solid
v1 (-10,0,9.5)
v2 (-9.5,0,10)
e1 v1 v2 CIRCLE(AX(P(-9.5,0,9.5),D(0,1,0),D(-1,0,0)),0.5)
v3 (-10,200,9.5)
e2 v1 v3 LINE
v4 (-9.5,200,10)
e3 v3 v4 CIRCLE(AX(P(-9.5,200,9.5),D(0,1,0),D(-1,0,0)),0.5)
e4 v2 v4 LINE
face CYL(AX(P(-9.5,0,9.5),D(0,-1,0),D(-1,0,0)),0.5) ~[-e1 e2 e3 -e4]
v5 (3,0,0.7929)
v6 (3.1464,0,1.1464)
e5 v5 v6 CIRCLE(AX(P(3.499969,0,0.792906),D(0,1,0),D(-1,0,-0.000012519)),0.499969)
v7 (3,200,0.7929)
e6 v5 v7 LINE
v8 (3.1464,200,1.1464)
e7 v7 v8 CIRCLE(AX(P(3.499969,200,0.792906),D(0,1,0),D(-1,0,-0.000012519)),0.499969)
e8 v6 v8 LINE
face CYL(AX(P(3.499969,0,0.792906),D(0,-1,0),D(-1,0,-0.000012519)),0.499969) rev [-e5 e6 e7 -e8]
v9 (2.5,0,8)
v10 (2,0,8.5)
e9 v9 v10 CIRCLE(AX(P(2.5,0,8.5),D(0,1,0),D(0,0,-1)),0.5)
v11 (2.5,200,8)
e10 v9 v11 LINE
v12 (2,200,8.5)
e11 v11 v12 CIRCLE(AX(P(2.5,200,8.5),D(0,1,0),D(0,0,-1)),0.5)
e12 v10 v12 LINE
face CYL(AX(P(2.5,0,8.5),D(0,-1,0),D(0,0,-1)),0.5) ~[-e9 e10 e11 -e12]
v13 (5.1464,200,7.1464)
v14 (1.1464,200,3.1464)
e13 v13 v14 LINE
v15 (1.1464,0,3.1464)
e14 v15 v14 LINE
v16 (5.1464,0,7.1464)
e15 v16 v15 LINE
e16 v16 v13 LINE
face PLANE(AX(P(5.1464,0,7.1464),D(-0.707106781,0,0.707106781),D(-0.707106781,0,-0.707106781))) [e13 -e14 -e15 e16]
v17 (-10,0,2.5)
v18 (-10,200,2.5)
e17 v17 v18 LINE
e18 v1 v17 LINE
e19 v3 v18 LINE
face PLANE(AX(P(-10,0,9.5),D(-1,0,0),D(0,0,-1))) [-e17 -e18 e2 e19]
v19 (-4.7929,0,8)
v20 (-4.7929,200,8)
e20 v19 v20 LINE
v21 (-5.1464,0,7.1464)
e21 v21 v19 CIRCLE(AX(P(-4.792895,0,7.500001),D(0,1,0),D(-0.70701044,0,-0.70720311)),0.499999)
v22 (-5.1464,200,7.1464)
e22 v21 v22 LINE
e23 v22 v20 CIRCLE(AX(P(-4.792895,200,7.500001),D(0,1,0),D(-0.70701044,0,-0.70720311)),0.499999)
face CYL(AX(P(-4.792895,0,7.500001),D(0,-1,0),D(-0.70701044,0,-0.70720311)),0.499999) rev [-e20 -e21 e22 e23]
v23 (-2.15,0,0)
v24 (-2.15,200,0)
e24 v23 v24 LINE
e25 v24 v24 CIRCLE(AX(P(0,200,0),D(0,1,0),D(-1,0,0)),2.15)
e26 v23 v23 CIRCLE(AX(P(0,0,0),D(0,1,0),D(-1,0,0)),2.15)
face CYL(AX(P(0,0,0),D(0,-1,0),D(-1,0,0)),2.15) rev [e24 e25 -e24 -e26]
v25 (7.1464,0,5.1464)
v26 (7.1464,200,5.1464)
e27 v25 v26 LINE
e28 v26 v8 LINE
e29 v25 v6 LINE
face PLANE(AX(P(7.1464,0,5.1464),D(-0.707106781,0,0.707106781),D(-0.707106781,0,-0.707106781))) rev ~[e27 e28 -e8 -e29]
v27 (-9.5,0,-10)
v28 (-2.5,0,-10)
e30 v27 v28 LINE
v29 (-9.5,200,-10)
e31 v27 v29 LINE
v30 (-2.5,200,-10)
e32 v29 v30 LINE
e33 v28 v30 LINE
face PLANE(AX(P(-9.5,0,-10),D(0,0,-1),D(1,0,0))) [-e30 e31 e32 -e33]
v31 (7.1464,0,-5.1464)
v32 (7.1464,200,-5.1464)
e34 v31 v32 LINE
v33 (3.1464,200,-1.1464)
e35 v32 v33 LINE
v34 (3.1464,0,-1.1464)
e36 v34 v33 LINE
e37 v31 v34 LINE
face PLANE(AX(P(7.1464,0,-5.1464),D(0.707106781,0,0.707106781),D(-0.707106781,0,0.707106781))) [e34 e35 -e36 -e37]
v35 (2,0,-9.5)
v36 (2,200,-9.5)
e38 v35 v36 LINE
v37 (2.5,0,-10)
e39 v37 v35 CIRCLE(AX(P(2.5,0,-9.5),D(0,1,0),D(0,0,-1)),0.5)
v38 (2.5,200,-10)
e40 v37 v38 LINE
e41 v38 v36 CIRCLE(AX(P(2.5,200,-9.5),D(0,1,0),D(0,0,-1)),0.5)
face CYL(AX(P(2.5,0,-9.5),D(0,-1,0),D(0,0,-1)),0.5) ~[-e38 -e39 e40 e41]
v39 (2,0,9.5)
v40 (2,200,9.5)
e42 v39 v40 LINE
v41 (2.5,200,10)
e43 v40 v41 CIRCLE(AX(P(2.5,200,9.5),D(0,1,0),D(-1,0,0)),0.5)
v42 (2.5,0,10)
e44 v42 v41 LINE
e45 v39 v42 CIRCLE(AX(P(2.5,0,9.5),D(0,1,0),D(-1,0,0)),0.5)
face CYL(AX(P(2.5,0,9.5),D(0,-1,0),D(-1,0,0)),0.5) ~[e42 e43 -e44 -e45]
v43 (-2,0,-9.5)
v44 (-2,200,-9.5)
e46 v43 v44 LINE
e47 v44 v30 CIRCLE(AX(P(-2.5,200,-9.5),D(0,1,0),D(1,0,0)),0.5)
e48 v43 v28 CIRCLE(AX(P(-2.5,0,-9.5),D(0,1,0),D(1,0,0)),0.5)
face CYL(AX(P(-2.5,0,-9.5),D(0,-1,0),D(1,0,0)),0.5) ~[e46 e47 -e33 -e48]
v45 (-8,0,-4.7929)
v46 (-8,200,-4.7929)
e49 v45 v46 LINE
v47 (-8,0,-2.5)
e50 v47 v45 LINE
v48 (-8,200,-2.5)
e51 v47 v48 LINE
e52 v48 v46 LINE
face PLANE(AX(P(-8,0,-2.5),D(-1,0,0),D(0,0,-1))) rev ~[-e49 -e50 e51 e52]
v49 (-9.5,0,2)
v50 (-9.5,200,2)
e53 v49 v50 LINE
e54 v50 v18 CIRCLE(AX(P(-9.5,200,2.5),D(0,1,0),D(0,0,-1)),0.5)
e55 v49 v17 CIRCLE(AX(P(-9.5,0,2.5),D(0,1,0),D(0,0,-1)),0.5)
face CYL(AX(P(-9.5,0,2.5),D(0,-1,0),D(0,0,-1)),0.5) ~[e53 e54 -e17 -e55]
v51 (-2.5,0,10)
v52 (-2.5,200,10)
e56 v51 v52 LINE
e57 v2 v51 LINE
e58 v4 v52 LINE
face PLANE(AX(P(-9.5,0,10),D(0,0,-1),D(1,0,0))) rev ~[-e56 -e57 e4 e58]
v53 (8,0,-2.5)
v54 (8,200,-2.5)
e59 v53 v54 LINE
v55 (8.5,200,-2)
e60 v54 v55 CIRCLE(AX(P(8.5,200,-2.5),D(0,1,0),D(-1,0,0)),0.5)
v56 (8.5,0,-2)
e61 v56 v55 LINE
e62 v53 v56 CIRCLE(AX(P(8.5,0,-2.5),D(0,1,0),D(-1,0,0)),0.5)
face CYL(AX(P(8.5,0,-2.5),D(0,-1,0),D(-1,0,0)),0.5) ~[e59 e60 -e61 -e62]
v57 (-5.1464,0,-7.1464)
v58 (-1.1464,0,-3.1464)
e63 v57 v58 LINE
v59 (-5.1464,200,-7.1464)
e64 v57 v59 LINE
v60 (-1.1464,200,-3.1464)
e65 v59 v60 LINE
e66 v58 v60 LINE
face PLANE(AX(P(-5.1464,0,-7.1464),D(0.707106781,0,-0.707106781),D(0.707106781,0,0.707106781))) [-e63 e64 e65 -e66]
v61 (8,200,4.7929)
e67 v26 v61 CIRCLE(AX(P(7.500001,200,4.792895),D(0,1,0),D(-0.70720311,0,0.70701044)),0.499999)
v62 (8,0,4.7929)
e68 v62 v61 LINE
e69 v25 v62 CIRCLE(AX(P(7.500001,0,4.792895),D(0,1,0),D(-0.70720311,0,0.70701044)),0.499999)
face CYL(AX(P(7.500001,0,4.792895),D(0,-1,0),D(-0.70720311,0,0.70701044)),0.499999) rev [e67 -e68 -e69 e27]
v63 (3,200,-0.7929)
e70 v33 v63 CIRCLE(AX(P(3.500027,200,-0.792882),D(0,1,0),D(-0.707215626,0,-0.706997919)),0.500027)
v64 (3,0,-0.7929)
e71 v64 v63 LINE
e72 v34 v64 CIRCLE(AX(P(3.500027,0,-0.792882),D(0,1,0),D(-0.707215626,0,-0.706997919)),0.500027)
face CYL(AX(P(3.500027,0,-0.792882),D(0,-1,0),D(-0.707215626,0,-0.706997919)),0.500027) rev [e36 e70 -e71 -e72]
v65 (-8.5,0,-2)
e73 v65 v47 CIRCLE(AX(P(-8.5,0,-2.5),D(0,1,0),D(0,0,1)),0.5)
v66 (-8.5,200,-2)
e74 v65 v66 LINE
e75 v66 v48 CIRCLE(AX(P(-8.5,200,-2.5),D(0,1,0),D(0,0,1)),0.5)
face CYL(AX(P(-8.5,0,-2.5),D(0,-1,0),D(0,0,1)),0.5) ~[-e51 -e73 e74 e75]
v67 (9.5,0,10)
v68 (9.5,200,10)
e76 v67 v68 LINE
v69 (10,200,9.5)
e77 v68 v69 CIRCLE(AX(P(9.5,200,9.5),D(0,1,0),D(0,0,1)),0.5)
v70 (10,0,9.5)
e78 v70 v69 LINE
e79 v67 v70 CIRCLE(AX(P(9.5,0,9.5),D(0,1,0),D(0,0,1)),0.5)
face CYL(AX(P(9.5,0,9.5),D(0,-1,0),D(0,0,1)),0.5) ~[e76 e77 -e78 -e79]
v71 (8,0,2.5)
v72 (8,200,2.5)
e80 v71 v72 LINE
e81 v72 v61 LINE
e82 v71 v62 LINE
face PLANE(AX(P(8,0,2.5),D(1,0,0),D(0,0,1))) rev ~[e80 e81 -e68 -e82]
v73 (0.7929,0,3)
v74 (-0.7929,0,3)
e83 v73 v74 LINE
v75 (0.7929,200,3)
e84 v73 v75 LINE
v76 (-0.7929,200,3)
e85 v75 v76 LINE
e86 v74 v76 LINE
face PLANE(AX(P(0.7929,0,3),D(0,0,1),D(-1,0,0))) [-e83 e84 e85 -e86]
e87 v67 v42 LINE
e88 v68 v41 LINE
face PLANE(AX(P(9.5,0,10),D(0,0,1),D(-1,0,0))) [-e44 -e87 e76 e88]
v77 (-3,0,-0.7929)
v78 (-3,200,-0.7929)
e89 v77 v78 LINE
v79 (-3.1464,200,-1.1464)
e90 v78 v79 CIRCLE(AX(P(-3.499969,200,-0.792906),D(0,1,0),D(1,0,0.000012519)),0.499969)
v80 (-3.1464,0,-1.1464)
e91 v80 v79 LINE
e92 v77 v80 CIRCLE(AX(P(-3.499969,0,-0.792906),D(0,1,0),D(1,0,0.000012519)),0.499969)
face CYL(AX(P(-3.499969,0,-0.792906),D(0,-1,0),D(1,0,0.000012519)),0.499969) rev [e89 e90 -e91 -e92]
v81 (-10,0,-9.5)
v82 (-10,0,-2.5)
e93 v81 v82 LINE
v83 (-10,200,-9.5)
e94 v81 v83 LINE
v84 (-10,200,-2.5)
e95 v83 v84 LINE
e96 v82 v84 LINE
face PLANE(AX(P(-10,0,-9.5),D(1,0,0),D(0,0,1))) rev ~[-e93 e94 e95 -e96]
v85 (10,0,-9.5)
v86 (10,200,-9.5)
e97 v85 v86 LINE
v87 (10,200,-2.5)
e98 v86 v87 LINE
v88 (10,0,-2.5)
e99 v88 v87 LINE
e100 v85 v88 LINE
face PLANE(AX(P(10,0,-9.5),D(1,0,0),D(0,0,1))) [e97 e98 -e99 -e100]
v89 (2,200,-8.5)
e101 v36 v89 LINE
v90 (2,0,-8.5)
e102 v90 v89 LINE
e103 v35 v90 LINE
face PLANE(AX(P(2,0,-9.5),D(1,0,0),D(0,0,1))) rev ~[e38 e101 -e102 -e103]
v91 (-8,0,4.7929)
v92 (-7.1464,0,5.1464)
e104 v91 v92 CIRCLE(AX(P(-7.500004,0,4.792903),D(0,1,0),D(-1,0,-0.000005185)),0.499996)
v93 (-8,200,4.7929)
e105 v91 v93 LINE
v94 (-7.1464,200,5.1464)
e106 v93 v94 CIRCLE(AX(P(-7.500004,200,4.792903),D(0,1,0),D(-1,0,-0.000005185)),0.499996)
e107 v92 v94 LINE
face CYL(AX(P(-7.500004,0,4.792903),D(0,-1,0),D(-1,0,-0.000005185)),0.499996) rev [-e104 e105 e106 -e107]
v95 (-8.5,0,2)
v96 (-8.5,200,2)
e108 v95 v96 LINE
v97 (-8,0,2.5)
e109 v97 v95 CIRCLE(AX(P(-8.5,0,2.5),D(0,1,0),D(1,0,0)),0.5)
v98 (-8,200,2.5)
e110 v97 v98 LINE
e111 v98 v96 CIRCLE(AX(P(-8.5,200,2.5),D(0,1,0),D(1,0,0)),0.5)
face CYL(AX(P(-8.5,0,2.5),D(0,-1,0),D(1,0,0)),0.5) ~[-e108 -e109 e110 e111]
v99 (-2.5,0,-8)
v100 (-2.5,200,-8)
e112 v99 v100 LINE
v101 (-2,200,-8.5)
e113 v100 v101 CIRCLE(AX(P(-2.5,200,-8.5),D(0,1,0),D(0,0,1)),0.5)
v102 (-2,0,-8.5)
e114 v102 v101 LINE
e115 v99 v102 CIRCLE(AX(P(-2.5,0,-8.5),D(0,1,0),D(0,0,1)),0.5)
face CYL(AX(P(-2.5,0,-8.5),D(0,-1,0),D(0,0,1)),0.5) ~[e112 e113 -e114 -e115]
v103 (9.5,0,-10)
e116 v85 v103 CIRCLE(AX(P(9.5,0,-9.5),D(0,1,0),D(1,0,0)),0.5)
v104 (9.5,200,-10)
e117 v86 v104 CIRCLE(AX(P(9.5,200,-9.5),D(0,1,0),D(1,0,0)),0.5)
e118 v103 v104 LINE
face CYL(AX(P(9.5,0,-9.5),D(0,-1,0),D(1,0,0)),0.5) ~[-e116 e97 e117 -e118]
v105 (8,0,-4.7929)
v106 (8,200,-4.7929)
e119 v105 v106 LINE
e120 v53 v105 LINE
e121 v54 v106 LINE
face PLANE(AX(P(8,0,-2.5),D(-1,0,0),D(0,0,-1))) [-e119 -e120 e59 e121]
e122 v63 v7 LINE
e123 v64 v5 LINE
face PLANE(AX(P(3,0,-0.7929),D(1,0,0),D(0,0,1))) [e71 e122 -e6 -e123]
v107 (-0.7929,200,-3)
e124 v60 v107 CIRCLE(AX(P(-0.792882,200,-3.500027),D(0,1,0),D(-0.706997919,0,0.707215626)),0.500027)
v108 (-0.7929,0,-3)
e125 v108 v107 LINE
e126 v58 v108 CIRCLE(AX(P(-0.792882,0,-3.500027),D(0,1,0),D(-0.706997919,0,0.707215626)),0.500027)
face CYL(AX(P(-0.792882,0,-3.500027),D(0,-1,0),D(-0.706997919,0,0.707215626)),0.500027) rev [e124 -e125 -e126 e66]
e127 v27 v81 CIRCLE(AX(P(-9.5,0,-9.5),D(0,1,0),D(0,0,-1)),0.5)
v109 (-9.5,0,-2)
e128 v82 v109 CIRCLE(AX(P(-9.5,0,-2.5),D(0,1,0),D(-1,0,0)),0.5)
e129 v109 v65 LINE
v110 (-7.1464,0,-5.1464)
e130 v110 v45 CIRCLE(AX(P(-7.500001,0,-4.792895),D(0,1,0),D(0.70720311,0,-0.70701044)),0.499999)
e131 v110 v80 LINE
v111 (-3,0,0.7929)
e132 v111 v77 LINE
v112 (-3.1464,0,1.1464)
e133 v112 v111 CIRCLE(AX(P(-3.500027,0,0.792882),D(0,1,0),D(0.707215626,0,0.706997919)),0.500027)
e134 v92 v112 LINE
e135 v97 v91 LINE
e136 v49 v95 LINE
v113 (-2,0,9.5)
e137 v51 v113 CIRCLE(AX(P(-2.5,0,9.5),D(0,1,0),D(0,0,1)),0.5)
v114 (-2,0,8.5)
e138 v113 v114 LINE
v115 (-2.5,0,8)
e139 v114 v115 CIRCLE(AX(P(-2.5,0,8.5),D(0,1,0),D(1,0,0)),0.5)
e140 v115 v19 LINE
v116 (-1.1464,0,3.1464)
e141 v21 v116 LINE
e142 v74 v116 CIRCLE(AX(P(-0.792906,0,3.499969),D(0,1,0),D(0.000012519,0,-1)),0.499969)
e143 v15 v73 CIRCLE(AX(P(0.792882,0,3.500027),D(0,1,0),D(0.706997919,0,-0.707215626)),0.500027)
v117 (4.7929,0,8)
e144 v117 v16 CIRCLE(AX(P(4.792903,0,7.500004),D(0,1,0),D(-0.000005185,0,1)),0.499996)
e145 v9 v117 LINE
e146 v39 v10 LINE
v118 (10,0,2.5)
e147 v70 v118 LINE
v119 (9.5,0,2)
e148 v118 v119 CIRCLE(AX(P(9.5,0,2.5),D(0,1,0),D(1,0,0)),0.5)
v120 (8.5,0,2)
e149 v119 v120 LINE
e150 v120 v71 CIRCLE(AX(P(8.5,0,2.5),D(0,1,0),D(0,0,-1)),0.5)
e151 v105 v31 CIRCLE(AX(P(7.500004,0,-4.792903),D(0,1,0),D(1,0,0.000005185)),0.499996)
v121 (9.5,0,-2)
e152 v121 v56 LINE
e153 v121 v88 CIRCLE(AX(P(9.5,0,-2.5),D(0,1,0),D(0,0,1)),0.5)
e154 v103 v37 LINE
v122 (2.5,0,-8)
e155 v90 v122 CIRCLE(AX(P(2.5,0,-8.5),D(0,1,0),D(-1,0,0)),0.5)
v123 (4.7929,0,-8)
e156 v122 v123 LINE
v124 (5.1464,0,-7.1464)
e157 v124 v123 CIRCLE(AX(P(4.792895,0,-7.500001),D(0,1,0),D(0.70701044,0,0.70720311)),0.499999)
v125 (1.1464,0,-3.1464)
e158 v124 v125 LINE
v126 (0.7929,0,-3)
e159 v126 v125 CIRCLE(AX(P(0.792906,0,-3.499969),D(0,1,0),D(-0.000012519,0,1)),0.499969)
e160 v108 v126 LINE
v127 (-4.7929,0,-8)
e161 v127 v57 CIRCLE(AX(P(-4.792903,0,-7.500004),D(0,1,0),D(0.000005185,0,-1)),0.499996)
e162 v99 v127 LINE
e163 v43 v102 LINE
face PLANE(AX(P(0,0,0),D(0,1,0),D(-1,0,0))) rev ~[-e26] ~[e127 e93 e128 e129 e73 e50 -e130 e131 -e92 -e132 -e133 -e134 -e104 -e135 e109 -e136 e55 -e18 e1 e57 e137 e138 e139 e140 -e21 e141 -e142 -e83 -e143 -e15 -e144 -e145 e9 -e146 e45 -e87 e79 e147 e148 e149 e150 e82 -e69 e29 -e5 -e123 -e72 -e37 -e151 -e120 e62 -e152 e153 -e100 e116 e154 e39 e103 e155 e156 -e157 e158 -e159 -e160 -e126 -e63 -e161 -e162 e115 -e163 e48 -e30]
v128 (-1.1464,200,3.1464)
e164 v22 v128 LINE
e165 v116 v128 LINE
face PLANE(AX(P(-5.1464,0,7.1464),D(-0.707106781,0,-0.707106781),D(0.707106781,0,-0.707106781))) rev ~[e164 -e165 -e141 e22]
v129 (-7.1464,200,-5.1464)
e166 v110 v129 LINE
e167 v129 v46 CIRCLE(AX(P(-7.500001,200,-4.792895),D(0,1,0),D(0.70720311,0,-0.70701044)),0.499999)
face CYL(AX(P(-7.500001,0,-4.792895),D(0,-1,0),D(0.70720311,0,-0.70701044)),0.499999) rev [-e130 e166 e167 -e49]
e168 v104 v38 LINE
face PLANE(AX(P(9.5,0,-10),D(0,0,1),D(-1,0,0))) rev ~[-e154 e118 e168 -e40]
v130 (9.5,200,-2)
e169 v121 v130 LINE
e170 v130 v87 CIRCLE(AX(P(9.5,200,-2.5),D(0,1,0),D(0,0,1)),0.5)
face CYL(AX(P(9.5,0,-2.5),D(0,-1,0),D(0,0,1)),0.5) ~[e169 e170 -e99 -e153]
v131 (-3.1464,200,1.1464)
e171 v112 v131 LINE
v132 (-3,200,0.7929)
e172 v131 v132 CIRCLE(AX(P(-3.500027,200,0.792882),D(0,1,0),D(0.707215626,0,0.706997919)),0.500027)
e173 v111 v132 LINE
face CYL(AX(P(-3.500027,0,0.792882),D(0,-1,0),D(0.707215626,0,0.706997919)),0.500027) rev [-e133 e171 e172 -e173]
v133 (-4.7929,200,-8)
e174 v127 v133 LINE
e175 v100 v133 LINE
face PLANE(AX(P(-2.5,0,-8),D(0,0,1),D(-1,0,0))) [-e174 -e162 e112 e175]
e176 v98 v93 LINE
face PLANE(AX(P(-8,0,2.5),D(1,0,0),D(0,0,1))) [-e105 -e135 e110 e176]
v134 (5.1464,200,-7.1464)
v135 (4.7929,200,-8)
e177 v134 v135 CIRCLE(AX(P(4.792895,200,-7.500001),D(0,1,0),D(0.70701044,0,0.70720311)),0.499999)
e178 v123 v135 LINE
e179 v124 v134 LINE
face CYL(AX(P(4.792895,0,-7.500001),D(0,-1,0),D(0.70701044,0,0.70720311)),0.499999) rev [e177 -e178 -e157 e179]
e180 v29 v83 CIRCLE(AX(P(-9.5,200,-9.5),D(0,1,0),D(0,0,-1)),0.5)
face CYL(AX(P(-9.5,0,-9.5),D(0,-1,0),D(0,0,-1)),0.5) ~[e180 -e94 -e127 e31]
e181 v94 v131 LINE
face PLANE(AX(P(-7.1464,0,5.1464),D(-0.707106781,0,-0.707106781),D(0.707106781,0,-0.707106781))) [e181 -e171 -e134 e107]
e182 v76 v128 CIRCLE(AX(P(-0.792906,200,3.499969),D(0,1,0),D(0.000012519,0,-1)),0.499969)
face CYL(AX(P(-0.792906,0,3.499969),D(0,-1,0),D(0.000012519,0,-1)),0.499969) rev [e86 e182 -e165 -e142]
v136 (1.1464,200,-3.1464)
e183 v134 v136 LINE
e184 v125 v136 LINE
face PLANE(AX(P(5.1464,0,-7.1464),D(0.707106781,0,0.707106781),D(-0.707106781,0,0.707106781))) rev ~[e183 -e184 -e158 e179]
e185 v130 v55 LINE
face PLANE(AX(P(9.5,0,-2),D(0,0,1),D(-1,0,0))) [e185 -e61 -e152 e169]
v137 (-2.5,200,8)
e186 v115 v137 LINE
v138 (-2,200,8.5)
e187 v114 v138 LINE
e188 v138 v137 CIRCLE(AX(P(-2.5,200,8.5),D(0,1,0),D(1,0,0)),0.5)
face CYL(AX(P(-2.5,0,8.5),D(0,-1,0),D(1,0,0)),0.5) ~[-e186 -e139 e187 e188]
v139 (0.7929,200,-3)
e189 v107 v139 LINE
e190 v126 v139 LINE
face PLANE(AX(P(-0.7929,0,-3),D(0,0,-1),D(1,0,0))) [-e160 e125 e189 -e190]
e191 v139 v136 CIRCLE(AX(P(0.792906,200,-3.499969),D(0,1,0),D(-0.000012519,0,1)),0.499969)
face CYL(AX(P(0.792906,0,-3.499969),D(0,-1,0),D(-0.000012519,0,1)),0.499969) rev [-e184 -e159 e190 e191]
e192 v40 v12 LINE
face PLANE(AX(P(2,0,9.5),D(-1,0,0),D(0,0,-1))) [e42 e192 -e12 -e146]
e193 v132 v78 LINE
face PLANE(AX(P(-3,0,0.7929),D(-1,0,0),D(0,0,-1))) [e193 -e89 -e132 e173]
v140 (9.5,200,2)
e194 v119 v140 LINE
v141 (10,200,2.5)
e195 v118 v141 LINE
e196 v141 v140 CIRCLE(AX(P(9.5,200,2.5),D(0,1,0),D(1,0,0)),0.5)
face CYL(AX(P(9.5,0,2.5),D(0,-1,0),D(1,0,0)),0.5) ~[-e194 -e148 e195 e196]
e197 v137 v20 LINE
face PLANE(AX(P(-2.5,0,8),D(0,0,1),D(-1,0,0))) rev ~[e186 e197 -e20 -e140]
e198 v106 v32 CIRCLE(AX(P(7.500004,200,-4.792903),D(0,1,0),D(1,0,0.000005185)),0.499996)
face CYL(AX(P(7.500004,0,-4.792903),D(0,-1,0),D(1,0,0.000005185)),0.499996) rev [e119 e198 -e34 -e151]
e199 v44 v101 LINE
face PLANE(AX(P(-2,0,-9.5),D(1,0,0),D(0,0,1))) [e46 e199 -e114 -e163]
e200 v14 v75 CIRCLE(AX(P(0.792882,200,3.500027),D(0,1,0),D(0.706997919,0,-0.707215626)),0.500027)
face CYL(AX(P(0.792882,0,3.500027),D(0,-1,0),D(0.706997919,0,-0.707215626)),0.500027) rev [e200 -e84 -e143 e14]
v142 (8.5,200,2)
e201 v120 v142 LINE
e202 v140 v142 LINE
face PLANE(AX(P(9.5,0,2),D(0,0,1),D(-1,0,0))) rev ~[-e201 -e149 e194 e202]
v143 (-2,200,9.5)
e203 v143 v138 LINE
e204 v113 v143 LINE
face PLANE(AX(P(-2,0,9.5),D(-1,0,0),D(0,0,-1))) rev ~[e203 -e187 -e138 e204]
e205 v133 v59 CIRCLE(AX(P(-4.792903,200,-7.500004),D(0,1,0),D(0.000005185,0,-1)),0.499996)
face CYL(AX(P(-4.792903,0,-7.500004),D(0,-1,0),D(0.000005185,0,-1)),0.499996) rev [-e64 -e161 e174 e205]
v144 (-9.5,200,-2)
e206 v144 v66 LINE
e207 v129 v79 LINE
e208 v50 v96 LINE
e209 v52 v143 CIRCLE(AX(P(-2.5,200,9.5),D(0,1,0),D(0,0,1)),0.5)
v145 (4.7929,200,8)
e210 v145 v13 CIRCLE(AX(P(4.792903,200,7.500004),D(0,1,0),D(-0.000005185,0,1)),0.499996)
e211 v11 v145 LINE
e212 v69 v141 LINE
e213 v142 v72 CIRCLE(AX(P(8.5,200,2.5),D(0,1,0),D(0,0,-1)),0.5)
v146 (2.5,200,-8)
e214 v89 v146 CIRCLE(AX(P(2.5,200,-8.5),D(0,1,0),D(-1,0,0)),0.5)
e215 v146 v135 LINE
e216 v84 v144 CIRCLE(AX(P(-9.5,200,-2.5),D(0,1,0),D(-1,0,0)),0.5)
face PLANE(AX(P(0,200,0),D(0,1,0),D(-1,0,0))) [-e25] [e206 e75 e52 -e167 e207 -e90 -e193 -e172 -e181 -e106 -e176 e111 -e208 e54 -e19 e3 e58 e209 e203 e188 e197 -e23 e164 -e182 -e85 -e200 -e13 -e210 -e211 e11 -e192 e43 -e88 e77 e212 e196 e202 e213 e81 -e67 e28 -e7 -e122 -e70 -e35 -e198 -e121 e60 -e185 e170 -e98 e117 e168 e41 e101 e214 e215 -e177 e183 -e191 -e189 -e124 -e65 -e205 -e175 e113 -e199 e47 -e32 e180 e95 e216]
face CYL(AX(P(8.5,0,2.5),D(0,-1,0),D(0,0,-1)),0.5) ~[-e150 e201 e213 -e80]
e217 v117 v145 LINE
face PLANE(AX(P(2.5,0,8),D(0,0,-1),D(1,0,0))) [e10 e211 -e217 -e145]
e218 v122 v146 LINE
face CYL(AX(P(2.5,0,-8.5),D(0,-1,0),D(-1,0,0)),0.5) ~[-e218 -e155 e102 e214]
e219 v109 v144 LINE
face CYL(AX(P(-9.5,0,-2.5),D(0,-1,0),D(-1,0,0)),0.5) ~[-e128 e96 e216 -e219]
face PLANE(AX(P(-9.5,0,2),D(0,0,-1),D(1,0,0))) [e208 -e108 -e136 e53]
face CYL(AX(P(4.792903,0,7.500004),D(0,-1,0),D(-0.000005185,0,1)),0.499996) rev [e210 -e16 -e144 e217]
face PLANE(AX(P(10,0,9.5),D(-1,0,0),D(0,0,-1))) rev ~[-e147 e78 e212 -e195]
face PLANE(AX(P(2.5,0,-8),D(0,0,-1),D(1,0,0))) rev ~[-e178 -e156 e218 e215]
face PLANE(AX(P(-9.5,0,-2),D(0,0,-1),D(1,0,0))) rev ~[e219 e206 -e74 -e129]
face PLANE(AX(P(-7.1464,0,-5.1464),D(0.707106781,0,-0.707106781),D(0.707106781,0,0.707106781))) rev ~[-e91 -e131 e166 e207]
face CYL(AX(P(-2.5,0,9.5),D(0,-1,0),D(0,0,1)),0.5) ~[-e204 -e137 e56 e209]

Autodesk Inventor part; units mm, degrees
ref_plane "YZ Plane" through (0, 0, 0) normal (1, 0, 0) x (0, 1, 0)
ref_plane "XZ Plane" through (0, 0, 0) normal (0, 1, 0) x (-1, 0, 0)
ref_plane "XY Plane" through (0, 0, 0) normal (0, 0, 1) x (1, 0, 0)
sketch "Sketch1" plane through (0, 0, 0) normal (0, 1, 0) x (-1, 0, 0)
  line L0 (2.5, 10) -> (9.5, 10) construction
  line L1 (10, -2.5) -> (10, -9.5) construction
  line L2 (-2.5, -10) -> (-9.5, -10) construction
  line L3 (-10, 2.5) -> (-10, 10) construction
  line L4 (-10, 10) -> (10, -10) construction
  line L5 (10, 10) -> (-10, -10) construction
  circle A0 centre (0, 0) radius 2.15
  line L6 (10, 9.5) -> (10, 2.5)
  line L7 (9.5, 2) -> (8.5, 2)
  line L8 (8, 2.5) -> (8, 4.7929)
  line L9 (-0.7929, 3) -> (0.7929, 3)
  line L10 (3, 0.7929) -> (3, -0.7929)
  line L11 (0.7929, -3) -> (-0.7929, -3)
  line L12 (-3, -0.7929) -> (-3, 0.7929)
  line L13 (-3, 3) -> (3, -3) construction
  line L14 (3, 3) -> (-3, -3) construction
  line L15 (10, -10) -> (10, -2)
  line L16 (9.5, -2) -> (8.5, -2)
  line L17 (8, -2.5) -> (8, -4.7929)
  line L18 (7.1464, -5.1464) -> (3.1464, -1.1464)
  line L19 (7.1464, 5.1464) -> (3.1464, 1.1464)
  line L20 (8, 6) -> (13.6569, 6) construction
  line L21 (10, 10) -> (2, 10)
  line L22 (2, 9.5) -> (2, 8.5)
  line L23 (2.5, 8) -> (4.7929, 8)
  line L24 (5.1464, 7.1464) -> (1.1464, 3.1464)
  line L25 (-9.5, 10) -> (-2.5, 10)
  line L26 (-2, 9.5) -> (-2, 8.5)
  line L27 (-2.5, 8) -> (-4.7929, 8)
  line L28 (-5.1464, 7.1464) -> (-1.1464, 3.1464)
  line L29 (-10, 9.5) -> (-10, 2)
  line L30 (-9.5, 2) -> (-8.5, 2)
  line L31 (-8, 2.5) -> (-8, 4.7929)
  line L32 (-7.1464, 5.1464) -> (-3.1464, 1.1464)
  line L33 (-10, -9.5) -> (-10, -2.5)
  line L34 (-9.5, -2) -> (-8.5, -2)
  line L35 (-8, -2.5) -> (-8, -4.7929)
  line L36 (-7.1464, -5.1464) -> (-3.1464, -1.1464)
  line L37 (-8, -6) -> (-2.3431, -6) construction
  line L38 (-10, -10) -> (-2, -10)
  line L39 (-2, -9.5) -> (-2, -8.5)
  line L40 (-2.5, -8) -> (-4.7929, -8)
  line L41 (-5.1464, -7.1464) -> (-1.1464, -3.1464)
  line L42 (9.5, -10) -> (2.5, -10)
  line L43 (2, -9.5) -> (2, -8.5)
  line L44 (2.5, -8) -> (4.7929, -8)
  line L45 (5.1464, -7.1464) -> (1.1464, -3.1464)
  arc A1 (8, 2.5) -> (8.5, 2) centre (8.5, 2.5) ccw
  arc A2 (9.5, 2) -> (10, 2.5) centre (9.5, 2.5) ccw
  arc A3 (10, -2.5) -> (9.5, -2) centre (9.5, -2.5) ccw
  arc A4 (8.5, -2) -> (8, -2.5) centre (8.5, -2.5) ccw
  arc A5 (7.1464, -5.1464) -> (8, -4.7929) centre (7.5, -4.7929) ccw
  arc A6 (3, -0.7929) -> (3.1464, -1.1464) centre (3.5, -0.7929) ccw
  arc A7 (3.1464, 1.1464) -> (3, 0.7929) centre (3.5, 0.7929) ccw
  arc A8 (8, 4.7929) -> (7.1464, 5.1464) centre (7.5, 4.7929) ccw
  arc A9 (5.1464, 7.1464) -> (4.7929, 8) centre (4.7929, 7.5) ccw
  arc A10 (0.7929, 3) -> (1.1464, 3.1464) centre (0.7929, 3.5) ccw
  arc A11 (-1.1464, 3.1464) -> (-0.7929, 3) centre (-0.7929, 3.5) ccw
  arc A12 (-3, 0.7929) -> (-3.1464, 1.1464) centre (-3.5, 0.7929) ccw
  arc A13 (-3.1464, -1.1464) -> (-3, -0.7929) centre (-3.5, -0.7929) ccw
  arc A14 (-0.7929, -3) -> (-1.1464, -3.1464) centre (-0.7929, -3.5) ccw
  arc A15 (1.1464, -3.1464) -> (0.7929, -3) centre (0.7929, -3.5) ccw
  arc A16 (-4.7929, 8) -> (-5.1464, 7.1464) centre (-4.7929, 7.5) ccw
  arc A17 (-7.1464, 5.1464) -> (-8, 4.7929) centre (-7.5, 4.7929) ccw
  arc A18 (-8, -4.7929) -> (-7.1464, -5.1464) centre (-7.5, -4.7929) ccw
  arc A19 (-5.1464, -7.1464) -> (-4.7929, -8) centre (-4.7929, -7.5) ccw
  arc A20 (4.7929, -8) -> (5.1464, -7.1464) centre (4.7929, -7.5) ccw
  arc A21 (2, 8.5) -> (2.5, 8) centre (2.5, 8.5) ccw
  arc A22 (2.5, 10) -> (2, 9.5) centre (2.5, 9.5) ccw
  arc A23 (-2, 9.5) -> (-2.5, 10) centre (-2.5, 9.5) ccw
  arc A24 (-2.5, 8) -> (-2, 8.5) centre (-2.5, 8.5) ccw
  arc A25 (-10, 2.5) -> (-9.5, 2) centre (-9.5, 2.5) ccw
  arc A26 (-8.5, 2) -> (-8, 2.5) centre (-8.5, 2.5) ccw
  arc A27 (-8, -2.5) -> (-8.5, -2) centre (-8.5, -2.5) ccw
  arc A28 (-9.5, -2) -> (-10, -2.5) centre (-9.5, -2.5) ccw
  arc A29 (-2.5, -10) -> (-2, -9.5) centre (-2.5, -9.5) ccw
  arc A30 (-2, -8.5) -> (-2.5, -8) centre (-2.5, -8.5) ccw
  arc A31 (2, -9.5) -> (2.5, -10) centre (2.5, -9.5) ccw
  arc A32 (2.5, -8) -> (2, -8.5) centre (2.5, -8.5) ccw
  arc A33 (9.5, -10) -> (10, -9.5) centre (9.5, -9.5) ccw
  arc A34 (10, 9.5) -> (9.5, 10) centre (9.5, 9.5) ccw
  arc A35 (-9.5, 10) -> (-10, 9.5) centre (-9.5, 9.5) ccw
  arc A36 (-10, -9.5) -> (-9.5, -10) centre (-9.5, -9.5) ccw
  point P0 (10, 2)
  point P1 (8, 2)
  point P2 (8, -2)
  point P3 (8, -6)
  point P4 (2, 8)
  point P5 (6, 8)
  point P6 (-2, 10)
  point P7 (-2, 8)
  point P8 (-6, 8)
  point P9 (-8, 2)
  point P10 (-8, 6)
  point P11 (-10, -2)
  point P12 (-8, -2)
  point P13 (-2, -8)
  point P14 (-6, -8)
  point P15 (2, -10)
  point P16 (2, -8)
  point P17 (6, -8)
  point P18 (1, 3)
  point P19 (3, 1)
  point P20 (3, -1)
  point P21 (1, -3)
  point P22 (-1, -3)
  point P23 (-3, -1)
  point P24 (-3, 1)
  point P25 (-1, 3)
  dimension "d0" = 20
  dimension "d1" = 20
  dimension "d2" = 4.3
  dimension "d3" = 8
  dimension "d4" = 2
  dimension "d5" = 4
  dimension "d6" = 6
  dimension "d7" = 6
  dimension "d8" = 8
  dimension "d9" = 2
  dimension "d10" = 4
  dimension "d11" = 45
  dimension "d12" = 135
  dimension "d13" = 8
  dimension "d14" = 2
  dimension "d15" = 4
  dimension "d16" = 45
  dimension "d17" = 8
  dimension "d18" = 2
  dimension "d19" = 4
  dimension "d20" = 45
  dimension "d21" = 8
  dimension "d22" = 2
  dimension "d23" = 4
  dimension "d24" = 45
  dimension "d25" = 8
  dimension "d26" = 2
  dimension "d27" = 4
  dimension "d28" = 45
  dimension "d29" = 8
  dimension "d30" = 2
  dimension "d31" = 4
  dimension "d32" = 45
  dimension "d33" = 8
  dimension "d34" = 2
  dimension "d35" = 4
  dimension "d36" = 45
  dimension "d37" = 2
  dimension "d38" = 2
  dimension "d39" = 2
  dimension "d40" = 2
  dimension "d41" = 0.5
extrude "Extrusion1" add sketch "Sketch1" along normal blind 200
properties part number "Strut_short"
